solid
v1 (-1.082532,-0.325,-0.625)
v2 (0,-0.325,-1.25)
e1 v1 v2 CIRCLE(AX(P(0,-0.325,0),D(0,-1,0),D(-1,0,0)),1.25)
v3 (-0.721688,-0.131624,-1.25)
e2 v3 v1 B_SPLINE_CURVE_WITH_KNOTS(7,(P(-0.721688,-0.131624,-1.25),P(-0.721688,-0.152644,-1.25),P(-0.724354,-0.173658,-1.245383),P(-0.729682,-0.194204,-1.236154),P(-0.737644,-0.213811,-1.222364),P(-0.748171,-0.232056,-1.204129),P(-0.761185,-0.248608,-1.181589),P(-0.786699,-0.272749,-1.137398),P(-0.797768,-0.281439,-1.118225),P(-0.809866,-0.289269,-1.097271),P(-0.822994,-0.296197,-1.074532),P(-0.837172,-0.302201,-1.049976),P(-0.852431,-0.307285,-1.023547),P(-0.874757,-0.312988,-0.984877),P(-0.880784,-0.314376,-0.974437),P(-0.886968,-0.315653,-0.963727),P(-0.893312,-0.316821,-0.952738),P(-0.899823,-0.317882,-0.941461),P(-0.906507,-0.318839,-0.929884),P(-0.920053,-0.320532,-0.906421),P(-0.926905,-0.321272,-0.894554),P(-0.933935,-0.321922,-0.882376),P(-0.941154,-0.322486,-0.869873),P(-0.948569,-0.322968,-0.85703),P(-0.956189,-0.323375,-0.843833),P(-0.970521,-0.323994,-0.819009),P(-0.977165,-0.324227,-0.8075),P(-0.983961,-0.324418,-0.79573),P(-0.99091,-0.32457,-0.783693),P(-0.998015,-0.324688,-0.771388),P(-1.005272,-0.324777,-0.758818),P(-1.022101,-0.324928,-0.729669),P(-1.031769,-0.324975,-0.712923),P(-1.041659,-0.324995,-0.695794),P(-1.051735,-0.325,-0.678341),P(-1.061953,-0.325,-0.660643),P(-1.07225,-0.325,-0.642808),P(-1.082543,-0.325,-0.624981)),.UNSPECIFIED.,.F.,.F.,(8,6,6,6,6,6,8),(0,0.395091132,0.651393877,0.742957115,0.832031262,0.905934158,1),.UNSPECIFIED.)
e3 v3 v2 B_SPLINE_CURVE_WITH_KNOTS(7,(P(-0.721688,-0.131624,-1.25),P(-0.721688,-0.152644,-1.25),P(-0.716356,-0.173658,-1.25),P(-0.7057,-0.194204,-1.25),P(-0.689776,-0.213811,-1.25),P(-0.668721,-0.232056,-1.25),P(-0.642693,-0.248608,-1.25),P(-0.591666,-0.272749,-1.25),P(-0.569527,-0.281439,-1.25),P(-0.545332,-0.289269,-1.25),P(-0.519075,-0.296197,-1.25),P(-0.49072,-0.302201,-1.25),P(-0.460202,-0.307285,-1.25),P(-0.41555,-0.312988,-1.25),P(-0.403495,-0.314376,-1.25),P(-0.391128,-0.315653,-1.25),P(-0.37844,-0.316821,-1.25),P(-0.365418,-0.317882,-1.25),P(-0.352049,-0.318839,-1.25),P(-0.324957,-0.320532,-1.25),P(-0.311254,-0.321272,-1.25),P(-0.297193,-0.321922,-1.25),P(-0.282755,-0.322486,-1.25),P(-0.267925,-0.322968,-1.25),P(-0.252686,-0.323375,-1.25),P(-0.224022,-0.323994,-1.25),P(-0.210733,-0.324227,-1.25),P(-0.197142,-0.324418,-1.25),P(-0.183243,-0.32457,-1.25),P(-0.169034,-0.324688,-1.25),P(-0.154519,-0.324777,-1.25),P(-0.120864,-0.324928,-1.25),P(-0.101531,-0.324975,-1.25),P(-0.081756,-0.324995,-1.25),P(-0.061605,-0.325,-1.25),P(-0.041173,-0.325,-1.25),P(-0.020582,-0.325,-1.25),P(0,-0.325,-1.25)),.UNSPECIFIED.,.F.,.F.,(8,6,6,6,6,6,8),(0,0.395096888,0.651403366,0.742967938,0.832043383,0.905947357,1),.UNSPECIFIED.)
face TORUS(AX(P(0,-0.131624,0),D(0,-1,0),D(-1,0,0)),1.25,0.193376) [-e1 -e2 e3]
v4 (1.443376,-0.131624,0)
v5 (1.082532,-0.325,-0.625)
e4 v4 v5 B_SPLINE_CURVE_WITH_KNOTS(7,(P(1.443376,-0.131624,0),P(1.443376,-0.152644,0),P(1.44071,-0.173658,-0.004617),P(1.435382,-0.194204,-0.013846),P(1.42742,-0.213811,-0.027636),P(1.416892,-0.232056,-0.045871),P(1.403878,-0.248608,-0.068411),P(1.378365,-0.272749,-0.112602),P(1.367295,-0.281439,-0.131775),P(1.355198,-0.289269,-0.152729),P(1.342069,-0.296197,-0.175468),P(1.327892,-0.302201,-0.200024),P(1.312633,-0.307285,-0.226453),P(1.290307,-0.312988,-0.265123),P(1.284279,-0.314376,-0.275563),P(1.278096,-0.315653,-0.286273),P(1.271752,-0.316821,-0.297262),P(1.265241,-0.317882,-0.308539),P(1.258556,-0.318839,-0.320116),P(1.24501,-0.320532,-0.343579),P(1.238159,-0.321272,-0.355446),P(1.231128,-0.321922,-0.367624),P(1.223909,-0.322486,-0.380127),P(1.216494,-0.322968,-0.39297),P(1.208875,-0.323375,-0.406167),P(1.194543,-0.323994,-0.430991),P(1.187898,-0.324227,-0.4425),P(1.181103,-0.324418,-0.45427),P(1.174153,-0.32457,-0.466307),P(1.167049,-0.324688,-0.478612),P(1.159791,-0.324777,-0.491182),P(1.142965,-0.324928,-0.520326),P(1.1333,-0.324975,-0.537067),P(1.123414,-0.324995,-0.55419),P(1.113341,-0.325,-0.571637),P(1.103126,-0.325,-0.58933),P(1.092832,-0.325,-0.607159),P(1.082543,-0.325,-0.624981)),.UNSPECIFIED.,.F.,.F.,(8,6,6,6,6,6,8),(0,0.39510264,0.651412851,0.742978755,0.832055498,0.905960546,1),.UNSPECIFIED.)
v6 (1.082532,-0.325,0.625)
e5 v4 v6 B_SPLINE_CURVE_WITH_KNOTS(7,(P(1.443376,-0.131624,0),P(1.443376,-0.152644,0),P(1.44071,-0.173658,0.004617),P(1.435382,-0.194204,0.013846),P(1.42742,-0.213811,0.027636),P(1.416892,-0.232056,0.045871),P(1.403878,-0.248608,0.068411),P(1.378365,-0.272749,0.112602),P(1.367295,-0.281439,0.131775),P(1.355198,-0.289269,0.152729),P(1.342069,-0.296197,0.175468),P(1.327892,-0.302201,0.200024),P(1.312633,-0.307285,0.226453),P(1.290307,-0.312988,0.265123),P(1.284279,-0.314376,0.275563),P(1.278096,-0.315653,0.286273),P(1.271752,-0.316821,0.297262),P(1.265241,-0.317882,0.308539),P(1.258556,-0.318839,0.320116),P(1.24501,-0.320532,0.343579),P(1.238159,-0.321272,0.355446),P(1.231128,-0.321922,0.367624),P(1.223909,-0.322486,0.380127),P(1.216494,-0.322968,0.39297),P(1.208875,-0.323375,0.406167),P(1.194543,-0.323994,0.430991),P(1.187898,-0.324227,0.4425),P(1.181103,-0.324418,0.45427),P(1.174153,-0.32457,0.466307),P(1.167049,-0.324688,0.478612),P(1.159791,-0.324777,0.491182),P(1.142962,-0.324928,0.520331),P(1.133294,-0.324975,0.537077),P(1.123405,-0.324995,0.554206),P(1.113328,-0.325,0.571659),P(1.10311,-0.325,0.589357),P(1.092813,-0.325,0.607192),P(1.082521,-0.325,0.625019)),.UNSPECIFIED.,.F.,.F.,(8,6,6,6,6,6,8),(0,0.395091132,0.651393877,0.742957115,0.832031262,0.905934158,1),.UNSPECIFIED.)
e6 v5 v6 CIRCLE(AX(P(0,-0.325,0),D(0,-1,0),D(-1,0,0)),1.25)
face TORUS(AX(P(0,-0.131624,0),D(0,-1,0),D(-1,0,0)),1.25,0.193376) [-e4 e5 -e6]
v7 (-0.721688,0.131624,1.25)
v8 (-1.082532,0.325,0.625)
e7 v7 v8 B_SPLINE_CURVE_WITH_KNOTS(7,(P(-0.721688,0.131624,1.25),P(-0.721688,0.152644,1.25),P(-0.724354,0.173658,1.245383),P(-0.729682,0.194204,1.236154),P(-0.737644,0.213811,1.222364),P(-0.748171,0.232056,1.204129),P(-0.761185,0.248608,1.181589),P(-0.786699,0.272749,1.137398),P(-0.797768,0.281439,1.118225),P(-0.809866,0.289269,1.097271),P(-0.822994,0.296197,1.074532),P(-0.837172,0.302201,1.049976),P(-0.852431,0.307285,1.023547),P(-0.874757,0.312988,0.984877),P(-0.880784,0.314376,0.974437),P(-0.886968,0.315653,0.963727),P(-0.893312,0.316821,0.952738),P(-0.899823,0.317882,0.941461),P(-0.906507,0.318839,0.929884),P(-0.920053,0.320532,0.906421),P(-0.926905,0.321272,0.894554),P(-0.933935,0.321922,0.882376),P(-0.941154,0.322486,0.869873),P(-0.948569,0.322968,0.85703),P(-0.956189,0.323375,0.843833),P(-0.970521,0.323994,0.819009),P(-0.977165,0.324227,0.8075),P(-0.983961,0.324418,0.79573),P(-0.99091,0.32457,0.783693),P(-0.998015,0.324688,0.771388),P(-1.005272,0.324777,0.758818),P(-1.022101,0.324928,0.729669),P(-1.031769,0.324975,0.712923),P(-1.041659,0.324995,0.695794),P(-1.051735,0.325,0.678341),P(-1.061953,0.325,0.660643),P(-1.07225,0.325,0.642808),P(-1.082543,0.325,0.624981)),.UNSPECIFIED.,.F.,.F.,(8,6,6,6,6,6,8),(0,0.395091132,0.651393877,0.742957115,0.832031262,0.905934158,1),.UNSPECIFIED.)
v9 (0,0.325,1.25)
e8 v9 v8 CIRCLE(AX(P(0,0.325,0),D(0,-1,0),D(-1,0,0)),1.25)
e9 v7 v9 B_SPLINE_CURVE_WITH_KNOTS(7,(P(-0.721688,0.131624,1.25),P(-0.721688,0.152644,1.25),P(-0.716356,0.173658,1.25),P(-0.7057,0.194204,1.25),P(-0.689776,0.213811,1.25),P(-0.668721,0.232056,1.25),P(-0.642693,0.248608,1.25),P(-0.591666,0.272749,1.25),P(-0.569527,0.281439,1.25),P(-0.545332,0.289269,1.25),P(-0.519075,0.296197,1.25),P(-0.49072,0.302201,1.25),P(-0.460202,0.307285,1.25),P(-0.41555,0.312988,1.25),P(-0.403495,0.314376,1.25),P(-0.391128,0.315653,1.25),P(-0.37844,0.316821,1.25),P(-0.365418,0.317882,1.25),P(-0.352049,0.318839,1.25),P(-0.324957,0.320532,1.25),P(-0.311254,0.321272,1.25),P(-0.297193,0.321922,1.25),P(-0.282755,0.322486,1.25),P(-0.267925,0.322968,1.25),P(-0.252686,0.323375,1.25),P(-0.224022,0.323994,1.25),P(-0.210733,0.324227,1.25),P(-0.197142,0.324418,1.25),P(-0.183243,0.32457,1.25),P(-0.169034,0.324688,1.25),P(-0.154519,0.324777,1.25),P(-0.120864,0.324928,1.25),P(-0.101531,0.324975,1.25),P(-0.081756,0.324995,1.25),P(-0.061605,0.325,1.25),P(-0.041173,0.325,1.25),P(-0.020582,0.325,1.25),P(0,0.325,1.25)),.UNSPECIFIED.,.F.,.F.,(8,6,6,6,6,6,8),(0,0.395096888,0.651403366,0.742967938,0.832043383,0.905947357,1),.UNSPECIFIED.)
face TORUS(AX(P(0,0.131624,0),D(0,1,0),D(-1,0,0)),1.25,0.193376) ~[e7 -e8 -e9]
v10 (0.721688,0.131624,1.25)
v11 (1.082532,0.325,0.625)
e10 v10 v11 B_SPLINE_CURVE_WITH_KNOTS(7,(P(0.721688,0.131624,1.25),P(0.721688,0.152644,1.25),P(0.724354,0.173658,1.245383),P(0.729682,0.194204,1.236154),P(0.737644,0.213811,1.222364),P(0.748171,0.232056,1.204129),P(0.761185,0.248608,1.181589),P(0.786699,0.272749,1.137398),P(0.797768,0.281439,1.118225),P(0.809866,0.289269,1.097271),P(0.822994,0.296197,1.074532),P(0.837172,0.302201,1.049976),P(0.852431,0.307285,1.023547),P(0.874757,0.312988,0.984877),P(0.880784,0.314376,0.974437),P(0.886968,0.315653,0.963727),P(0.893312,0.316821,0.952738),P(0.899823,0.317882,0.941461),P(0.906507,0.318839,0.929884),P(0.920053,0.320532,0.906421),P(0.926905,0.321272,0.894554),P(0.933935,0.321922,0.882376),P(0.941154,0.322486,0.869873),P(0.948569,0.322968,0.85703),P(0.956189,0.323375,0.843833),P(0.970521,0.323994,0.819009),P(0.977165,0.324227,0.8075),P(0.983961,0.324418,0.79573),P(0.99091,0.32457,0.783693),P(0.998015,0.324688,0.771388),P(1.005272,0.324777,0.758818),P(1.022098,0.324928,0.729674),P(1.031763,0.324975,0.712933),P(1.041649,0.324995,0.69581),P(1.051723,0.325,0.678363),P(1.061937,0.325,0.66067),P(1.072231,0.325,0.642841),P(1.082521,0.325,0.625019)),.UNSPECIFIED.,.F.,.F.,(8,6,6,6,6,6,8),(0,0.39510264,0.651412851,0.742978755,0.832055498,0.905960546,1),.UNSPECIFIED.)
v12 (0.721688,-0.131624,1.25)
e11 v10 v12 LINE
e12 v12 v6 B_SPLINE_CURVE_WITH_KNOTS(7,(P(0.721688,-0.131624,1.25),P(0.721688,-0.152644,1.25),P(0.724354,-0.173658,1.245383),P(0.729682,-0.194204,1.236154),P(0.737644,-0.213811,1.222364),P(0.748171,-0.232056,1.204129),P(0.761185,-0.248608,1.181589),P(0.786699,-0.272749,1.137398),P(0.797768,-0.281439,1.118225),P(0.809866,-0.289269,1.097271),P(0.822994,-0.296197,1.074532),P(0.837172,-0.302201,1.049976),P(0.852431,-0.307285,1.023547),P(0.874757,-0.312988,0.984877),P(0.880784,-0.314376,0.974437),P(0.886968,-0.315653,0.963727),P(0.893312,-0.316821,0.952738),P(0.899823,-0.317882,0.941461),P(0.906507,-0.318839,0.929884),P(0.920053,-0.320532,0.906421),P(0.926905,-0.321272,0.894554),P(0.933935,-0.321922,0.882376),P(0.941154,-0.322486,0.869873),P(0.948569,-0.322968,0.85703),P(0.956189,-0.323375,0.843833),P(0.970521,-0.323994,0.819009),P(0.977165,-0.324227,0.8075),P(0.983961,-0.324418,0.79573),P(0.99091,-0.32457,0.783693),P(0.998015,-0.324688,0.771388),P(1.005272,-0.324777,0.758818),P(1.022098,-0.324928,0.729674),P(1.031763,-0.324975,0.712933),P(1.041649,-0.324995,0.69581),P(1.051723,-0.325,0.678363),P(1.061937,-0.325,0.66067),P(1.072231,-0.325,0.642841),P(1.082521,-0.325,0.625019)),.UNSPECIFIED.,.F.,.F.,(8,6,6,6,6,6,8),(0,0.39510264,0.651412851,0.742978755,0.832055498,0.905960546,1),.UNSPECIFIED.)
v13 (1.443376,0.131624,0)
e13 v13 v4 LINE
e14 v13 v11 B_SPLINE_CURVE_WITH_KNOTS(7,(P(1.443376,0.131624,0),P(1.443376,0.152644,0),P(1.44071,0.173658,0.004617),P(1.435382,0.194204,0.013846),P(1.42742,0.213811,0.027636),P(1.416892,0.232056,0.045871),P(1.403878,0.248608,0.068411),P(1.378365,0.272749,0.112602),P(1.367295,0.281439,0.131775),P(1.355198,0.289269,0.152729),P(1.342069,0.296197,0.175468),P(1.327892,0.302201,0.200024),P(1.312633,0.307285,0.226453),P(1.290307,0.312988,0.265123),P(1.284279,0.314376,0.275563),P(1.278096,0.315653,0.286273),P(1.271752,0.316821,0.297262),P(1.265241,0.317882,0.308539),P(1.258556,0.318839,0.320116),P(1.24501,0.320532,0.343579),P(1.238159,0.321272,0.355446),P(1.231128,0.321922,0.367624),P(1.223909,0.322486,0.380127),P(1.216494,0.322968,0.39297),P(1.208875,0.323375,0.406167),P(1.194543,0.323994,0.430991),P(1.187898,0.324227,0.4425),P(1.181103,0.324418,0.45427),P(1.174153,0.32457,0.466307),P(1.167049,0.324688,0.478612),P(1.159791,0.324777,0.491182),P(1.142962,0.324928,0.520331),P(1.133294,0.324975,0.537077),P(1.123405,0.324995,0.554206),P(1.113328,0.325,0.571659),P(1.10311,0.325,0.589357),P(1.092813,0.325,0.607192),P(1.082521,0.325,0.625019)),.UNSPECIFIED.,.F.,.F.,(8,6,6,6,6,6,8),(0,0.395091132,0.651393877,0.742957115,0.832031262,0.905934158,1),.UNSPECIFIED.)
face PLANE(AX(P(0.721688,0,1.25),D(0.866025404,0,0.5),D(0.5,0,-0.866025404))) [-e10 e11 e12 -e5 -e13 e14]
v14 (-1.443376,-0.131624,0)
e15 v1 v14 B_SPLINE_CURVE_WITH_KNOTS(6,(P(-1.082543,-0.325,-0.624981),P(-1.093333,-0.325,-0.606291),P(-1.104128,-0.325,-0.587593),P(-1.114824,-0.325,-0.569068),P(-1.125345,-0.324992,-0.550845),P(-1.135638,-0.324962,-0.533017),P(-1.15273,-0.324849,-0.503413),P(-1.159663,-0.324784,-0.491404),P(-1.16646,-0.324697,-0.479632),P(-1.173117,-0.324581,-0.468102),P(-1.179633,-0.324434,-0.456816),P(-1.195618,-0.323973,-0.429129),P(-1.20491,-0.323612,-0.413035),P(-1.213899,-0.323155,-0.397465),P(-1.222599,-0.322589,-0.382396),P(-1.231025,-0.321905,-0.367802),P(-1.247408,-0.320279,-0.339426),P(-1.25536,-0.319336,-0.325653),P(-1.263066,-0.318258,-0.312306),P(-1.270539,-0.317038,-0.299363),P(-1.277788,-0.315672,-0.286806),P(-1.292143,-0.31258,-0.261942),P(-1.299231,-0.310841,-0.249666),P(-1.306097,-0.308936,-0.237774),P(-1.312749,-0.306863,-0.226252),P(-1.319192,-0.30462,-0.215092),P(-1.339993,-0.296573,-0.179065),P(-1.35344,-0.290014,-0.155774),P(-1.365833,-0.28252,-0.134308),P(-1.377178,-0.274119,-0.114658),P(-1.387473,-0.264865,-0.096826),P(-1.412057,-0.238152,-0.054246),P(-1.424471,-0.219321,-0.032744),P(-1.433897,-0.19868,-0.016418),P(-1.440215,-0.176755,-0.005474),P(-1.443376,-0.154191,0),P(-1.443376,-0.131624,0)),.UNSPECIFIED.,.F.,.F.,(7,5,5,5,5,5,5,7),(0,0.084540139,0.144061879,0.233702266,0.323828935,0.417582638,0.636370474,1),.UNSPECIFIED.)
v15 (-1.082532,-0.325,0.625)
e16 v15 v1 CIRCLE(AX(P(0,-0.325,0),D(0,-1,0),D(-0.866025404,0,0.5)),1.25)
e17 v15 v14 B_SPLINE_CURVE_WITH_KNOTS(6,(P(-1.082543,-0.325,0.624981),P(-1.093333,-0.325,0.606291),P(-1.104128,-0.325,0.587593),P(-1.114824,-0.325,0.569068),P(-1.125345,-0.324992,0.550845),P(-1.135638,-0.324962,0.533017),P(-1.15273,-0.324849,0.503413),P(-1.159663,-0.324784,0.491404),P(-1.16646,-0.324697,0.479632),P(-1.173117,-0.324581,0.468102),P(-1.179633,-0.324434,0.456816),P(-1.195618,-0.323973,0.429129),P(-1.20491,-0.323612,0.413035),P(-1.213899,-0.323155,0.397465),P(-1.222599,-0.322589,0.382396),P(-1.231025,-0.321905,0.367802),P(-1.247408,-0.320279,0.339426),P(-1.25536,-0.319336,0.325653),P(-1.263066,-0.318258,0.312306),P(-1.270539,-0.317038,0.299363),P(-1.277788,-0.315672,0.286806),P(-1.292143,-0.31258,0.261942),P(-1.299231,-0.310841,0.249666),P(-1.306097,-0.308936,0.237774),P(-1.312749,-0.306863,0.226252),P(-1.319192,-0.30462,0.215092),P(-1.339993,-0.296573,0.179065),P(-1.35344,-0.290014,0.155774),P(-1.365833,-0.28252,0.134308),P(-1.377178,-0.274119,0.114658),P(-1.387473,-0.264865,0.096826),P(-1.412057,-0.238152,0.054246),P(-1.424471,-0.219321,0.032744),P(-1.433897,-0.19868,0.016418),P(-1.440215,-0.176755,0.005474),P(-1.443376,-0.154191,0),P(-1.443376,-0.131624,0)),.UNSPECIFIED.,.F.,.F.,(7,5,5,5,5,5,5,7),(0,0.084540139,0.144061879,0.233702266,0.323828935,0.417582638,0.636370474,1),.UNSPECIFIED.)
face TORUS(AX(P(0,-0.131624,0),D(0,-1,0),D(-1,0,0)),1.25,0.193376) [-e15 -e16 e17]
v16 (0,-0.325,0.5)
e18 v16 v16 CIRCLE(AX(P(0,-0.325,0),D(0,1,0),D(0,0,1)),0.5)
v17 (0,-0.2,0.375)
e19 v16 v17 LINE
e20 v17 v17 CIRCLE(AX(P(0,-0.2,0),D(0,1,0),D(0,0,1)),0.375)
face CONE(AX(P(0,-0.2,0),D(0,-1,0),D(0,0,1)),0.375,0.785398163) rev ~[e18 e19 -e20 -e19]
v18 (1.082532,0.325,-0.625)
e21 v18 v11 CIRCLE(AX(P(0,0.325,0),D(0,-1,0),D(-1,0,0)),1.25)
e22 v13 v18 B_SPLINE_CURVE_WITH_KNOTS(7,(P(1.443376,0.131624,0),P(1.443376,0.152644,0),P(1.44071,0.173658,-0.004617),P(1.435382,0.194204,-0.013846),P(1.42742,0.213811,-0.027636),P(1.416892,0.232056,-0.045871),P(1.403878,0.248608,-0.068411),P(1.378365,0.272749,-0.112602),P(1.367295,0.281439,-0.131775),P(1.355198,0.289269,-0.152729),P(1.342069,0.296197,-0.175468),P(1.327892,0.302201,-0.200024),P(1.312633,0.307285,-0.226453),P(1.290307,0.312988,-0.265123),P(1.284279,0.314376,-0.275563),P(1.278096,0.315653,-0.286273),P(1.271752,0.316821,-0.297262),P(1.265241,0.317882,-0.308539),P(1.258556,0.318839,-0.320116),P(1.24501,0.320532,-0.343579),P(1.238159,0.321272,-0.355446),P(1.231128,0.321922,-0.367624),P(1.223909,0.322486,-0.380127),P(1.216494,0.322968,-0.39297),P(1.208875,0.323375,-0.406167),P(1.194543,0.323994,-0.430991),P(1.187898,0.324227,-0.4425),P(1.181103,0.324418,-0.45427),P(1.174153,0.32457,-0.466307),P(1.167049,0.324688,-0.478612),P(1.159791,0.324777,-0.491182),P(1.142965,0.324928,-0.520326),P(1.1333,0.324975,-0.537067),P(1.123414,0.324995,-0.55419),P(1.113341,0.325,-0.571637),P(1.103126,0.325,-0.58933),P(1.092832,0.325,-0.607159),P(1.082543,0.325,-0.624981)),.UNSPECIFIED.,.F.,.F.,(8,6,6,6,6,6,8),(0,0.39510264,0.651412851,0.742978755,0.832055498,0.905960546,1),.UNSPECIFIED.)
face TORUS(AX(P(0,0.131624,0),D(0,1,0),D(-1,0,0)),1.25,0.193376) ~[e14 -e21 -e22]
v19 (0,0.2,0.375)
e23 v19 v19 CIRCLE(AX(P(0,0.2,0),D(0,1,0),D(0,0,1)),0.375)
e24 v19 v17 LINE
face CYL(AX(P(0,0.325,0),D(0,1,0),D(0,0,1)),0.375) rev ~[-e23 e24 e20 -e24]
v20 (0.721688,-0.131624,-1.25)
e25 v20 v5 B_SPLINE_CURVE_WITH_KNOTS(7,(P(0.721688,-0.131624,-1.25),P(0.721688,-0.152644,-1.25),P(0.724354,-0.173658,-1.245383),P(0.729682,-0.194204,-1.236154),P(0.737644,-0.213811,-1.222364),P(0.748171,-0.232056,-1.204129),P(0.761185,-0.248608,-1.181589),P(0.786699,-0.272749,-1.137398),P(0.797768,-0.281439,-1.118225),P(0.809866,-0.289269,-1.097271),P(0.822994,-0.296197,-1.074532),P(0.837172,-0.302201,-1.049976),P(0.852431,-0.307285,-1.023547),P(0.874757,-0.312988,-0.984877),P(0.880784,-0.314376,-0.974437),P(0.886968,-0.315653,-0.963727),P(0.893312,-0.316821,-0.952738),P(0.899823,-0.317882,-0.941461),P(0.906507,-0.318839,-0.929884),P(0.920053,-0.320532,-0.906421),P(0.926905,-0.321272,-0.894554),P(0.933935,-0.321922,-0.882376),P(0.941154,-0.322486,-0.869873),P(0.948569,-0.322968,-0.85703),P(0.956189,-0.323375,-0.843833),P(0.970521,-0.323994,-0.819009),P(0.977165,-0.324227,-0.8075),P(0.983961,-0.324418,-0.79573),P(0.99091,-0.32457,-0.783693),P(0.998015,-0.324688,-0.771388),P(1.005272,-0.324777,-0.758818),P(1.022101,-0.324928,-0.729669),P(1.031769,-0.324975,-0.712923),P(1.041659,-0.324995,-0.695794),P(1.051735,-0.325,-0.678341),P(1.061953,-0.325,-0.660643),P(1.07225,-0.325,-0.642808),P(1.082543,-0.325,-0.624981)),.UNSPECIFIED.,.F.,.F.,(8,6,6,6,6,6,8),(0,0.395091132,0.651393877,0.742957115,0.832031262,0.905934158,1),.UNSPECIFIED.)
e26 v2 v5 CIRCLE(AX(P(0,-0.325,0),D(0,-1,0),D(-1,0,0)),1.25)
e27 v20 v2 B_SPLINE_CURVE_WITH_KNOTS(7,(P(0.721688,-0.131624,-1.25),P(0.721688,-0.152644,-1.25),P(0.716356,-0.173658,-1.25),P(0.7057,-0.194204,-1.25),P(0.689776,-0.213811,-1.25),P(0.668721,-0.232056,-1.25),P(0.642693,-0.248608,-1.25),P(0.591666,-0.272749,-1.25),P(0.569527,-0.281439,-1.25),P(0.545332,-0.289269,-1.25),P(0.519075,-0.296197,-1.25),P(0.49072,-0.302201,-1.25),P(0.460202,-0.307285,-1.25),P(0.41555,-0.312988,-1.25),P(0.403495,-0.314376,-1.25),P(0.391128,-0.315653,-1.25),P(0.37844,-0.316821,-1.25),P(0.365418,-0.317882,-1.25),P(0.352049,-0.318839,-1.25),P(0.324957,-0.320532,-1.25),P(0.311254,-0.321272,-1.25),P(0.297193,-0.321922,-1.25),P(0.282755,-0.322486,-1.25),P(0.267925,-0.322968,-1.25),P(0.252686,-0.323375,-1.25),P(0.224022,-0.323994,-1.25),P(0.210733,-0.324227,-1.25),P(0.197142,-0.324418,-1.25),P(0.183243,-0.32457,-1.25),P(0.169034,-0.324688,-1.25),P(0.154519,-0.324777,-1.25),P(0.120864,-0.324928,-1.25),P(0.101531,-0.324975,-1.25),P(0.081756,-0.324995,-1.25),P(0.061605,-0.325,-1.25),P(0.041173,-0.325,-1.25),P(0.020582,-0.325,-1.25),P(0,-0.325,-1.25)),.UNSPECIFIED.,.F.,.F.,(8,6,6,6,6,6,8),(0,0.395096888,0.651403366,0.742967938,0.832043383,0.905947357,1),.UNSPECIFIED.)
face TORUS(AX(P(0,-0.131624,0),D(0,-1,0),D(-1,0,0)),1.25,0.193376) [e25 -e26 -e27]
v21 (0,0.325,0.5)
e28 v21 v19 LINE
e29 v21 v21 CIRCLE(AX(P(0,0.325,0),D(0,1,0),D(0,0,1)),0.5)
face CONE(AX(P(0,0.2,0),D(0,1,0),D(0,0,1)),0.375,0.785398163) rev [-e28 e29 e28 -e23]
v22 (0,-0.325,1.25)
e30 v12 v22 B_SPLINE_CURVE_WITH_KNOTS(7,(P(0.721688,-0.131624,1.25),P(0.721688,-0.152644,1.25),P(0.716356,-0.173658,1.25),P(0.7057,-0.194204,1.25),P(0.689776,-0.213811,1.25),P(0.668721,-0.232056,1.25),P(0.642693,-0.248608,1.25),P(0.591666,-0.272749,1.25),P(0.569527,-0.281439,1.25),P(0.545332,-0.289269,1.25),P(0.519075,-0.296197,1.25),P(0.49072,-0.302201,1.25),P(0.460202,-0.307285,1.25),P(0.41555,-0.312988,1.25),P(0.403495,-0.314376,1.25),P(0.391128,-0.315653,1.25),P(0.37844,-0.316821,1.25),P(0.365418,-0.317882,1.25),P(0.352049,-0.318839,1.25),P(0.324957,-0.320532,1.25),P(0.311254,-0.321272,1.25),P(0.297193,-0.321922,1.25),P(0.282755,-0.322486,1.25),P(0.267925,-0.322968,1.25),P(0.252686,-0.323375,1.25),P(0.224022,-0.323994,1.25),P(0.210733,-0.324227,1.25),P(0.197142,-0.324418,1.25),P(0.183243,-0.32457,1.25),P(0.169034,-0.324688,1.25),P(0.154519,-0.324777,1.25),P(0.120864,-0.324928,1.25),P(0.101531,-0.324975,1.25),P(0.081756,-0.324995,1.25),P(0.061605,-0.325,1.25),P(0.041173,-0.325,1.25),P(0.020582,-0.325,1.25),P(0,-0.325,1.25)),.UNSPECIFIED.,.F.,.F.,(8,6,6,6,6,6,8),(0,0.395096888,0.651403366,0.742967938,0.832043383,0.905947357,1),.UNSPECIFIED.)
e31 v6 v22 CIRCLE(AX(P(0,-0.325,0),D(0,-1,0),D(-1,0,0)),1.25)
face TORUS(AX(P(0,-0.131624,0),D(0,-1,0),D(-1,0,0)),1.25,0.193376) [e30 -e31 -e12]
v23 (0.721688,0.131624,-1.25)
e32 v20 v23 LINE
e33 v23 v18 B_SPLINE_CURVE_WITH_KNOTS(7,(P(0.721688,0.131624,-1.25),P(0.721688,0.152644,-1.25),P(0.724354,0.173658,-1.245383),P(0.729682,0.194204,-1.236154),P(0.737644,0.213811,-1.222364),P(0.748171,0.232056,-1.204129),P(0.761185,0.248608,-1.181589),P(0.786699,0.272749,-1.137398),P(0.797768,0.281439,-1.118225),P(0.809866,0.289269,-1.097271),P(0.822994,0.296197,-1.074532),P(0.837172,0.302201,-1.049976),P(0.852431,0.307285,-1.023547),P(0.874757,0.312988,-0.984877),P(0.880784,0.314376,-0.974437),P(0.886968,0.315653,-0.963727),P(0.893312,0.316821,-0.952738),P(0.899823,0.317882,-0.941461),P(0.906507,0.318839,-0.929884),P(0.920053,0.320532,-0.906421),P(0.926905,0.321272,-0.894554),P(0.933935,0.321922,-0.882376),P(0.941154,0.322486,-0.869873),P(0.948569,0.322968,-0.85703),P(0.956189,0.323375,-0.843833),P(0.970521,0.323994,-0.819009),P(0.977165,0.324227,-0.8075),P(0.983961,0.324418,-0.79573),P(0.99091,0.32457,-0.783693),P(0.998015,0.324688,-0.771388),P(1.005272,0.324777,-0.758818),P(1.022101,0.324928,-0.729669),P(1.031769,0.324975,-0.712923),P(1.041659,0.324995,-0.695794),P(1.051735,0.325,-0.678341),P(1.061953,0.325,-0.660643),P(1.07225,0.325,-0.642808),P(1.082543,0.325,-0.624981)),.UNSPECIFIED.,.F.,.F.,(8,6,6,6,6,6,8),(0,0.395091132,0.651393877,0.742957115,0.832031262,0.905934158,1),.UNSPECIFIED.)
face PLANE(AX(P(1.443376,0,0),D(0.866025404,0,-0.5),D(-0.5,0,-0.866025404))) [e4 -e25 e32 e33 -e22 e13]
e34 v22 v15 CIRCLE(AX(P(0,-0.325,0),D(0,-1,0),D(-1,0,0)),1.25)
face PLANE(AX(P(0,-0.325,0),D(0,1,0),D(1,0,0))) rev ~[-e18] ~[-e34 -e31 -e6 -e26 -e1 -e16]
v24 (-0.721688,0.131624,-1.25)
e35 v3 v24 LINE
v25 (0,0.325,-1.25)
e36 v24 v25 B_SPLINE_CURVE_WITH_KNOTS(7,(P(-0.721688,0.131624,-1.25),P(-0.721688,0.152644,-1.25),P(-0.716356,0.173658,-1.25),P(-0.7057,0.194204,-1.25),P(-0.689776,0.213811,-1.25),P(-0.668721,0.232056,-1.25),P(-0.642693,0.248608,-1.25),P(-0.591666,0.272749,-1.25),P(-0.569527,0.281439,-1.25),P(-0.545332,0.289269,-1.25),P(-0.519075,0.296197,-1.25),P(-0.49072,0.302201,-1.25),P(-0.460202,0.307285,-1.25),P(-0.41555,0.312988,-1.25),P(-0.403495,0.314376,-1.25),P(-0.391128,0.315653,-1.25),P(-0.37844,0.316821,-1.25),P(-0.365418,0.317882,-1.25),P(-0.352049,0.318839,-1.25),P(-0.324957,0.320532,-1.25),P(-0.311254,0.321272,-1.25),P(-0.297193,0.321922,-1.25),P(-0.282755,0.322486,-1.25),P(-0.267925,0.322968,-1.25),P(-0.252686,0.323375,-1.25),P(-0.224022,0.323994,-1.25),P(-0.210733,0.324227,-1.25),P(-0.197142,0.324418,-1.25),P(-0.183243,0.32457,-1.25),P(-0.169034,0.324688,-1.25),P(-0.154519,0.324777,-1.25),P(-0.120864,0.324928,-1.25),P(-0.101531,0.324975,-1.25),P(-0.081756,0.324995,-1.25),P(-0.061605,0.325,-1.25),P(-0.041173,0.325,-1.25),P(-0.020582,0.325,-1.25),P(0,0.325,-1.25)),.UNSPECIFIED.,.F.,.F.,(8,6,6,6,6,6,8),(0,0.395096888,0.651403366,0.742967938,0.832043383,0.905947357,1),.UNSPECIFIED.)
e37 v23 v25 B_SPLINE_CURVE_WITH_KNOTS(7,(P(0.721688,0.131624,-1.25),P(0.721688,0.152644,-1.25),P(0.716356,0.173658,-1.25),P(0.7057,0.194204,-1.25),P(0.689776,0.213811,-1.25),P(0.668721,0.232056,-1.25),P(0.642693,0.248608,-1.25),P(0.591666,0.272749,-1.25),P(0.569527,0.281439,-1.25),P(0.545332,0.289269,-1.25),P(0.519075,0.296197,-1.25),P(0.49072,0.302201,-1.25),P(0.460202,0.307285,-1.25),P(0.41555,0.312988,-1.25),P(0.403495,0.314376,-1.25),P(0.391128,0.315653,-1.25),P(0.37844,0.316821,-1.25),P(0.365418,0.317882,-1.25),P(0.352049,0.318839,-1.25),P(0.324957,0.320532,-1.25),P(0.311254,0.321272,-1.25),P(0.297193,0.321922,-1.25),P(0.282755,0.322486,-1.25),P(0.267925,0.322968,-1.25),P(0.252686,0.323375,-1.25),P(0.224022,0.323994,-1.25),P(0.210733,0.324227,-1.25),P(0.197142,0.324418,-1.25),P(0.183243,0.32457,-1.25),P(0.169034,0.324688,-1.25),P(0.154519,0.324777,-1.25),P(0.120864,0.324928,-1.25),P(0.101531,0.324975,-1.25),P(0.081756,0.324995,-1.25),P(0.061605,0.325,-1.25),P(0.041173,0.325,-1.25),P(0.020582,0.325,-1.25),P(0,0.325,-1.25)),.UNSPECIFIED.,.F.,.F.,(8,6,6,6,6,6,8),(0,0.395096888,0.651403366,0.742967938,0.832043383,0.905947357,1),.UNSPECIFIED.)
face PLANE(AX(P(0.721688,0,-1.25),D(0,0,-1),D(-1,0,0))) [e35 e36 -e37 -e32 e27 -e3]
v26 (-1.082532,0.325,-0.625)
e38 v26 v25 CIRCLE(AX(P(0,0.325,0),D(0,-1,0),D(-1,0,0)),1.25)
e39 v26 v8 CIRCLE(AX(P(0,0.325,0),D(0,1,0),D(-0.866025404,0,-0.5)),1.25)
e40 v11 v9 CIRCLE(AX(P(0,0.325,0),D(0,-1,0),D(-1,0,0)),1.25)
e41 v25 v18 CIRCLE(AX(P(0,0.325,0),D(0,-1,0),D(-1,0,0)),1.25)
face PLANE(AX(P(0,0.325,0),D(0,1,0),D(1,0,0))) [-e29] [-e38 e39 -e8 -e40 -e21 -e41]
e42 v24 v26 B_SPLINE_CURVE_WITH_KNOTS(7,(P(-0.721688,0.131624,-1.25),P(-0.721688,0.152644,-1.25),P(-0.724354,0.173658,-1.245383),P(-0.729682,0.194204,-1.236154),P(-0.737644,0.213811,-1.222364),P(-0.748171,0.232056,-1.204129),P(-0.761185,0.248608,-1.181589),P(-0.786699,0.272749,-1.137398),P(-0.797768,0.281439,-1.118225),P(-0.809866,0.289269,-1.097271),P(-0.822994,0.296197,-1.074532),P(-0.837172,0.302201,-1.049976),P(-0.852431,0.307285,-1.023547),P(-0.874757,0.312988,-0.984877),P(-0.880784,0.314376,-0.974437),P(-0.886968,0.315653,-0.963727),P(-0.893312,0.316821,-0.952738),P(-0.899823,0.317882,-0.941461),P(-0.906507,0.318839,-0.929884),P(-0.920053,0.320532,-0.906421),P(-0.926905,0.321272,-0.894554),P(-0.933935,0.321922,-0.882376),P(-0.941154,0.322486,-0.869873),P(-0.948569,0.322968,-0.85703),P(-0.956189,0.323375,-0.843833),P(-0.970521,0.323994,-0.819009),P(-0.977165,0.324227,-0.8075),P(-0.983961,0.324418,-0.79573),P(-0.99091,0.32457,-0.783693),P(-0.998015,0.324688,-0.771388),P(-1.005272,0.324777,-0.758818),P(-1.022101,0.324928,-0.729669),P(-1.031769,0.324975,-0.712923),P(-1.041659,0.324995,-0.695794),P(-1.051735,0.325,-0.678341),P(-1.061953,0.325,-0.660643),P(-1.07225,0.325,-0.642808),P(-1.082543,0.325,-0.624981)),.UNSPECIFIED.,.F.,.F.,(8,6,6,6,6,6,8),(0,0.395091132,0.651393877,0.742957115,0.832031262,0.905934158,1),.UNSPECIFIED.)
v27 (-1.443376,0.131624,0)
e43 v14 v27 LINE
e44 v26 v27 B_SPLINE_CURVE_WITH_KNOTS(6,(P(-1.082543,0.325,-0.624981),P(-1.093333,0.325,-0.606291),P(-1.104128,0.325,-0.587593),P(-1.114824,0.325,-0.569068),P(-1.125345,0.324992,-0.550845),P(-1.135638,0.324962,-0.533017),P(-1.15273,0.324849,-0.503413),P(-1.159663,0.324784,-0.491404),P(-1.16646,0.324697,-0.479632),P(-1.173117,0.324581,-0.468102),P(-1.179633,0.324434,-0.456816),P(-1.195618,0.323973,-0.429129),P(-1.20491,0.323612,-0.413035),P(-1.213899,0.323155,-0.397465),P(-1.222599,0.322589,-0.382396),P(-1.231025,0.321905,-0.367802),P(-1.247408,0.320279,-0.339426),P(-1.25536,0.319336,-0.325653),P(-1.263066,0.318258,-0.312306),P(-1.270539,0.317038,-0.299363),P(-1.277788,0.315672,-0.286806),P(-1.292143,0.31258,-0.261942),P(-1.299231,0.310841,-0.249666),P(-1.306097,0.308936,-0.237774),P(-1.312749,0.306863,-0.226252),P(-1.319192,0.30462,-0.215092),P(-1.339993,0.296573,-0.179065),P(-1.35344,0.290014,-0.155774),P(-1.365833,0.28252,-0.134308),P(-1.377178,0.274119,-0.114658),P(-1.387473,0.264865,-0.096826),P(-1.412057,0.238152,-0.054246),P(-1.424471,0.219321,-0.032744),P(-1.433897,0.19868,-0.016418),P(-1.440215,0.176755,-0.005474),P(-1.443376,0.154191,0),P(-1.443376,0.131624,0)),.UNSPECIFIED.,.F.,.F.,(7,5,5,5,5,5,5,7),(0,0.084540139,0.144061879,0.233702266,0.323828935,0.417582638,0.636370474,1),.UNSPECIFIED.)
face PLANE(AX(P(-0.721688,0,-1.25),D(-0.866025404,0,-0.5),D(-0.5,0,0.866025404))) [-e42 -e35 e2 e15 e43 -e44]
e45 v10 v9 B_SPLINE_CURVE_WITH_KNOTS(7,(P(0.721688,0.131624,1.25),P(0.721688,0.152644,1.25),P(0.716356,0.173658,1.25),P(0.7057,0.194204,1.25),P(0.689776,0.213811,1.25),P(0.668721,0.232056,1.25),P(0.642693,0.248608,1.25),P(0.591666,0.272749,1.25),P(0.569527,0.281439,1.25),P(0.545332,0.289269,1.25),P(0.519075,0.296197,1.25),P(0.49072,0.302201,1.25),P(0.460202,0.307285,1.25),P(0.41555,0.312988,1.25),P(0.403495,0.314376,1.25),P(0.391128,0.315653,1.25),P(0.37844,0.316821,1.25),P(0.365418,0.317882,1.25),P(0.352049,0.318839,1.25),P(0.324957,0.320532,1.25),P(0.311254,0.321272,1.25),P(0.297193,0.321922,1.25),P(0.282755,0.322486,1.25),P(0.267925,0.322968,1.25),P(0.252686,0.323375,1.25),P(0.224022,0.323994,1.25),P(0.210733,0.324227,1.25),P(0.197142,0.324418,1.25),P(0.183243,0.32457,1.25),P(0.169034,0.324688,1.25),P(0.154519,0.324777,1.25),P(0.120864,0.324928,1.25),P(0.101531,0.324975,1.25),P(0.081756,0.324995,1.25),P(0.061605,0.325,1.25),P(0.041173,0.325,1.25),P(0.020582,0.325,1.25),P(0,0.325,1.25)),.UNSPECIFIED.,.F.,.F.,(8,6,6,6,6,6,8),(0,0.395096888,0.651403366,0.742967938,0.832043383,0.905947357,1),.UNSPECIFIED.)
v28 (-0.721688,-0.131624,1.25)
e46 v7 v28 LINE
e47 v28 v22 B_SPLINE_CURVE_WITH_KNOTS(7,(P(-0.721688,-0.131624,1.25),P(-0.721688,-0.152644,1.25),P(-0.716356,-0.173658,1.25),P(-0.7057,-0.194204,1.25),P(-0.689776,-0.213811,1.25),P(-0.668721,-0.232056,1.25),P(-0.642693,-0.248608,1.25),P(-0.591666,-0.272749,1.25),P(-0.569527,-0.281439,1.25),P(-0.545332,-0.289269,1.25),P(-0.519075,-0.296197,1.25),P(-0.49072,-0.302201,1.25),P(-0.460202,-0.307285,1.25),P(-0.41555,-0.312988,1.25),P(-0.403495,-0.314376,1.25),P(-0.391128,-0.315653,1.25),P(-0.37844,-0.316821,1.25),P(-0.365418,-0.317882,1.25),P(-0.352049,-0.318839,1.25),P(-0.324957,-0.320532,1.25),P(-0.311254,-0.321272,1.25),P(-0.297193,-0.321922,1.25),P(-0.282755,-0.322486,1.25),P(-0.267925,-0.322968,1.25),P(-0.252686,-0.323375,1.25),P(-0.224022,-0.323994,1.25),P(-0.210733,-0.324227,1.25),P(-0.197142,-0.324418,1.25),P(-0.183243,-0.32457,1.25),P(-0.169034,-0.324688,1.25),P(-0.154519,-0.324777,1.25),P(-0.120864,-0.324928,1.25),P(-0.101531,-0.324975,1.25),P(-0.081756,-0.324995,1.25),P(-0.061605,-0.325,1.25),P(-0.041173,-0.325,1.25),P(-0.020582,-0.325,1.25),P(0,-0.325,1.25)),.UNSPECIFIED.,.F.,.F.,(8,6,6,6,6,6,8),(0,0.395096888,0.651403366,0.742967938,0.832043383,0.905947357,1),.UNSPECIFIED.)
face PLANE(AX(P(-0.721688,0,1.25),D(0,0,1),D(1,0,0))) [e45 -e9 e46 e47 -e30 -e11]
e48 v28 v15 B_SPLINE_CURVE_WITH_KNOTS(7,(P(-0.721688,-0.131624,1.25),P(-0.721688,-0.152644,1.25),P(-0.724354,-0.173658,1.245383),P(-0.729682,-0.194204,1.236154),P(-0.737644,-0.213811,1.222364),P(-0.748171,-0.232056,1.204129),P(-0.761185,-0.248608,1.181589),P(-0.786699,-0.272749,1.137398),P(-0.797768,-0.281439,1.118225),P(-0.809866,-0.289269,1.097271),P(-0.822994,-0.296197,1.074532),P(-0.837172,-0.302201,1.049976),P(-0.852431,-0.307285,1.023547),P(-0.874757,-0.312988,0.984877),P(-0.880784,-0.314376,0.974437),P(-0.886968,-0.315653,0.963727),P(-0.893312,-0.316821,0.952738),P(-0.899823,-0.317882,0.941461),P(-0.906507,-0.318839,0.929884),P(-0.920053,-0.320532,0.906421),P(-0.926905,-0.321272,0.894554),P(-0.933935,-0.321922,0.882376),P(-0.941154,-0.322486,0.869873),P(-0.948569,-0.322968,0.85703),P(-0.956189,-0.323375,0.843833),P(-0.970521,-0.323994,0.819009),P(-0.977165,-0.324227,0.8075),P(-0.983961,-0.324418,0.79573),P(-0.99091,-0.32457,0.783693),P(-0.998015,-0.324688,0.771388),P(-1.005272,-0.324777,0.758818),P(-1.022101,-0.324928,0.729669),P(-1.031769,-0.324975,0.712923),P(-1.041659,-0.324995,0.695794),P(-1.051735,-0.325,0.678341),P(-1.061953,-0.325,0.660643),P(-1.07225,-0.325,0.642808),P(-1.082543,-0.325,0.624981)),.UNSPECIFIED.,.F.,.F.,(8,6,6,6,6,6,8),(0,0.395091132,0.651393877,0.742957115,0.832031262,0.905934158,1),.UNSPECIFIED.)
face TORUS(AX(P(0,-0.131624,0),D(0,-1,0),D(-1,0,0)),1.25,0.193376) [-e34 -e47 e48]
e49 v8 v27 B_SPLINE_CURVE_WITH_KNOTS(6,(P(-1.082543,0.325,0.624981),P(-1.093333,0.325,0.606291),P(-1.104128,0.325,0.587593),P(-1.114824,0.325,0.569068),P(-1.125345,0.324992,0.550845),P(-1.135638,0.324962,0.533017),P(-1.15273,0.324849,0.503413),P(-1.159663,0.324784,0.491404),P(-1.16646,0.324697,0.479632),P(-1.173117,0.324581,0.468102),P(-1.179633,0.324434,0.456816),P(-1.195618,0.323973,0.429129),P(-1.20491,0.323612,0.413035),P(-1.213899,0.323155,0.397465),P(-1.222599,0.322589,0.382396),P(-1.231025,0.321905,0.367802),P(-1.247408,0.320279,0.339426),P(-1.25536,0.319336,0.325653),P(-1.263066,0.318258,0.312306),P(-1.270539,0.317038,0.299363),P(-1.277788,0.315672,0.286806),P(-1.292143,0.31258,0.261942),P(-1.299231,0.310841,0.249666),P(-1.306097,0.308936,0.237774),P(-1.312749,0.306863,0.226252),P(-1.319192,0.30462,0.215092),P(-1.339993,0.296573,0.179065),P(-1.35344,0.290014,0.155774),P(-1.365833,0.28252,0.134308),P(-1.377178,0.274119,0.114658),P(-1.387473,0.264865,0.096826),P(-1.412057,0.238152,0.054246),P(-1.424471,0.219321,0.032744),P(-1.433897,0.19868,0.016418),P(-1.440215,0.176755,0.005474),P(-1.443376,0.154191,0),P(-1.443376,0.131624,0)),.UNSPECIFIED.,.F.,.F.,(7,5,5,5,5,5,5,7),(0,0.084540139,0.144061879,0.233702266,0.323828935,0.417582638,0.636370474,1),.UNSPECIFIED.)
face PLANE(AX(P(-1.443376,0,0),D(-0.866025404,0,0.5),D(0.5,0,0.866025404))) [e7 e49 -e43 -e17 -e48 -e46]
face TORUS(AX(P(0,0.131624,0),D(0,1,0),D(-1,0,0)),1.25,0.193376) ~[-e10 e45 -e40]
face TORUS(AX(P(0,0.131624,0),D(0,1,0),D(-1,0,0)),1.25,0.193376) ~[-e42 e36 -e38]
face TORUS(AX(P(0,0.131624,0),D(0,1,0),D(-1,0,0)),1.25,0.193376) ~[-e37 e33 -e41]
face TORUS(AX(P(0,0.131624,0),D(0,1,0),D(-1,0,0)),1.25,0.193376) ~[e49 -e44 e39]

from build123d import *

# Parameters (mm, degrees)
BOSS_EXTRUDE1_DEPTH = 0.325
SKETCH6_R           = 0.375
CUT_EXTRUDE1_DEPTH  = 3.017011156
CHAMFER1_SIZE       = 0.125


with BuildPart() as part:
    # Sketch1 → Boss-Extrude1 (new, symmetric)
    with BuildSketch(Plane(origin=(0, 0, 0), x_dir=(1, 0, 0), z_dir=(0, 1, 0))):
        Polygon((1.443375673, 0), (0.721687836, 1.25), (-0.721687836, 1.25), (-1.443375673, 0), (-0.721687836, -1.25), (0.721687836, -1.25), align=None)
    extrude(amount=BOSS_EXTRUDE1_DEPTH, both=True)

    # Sketch3 → Cut-Revolve1 (revolve, cut)
    with BuildSketch(Plane.XY):
        with BuildLine():
            Line((-1.443375673, 0.325), (-1.443375673, 0.131624327))
            ThreePointArc((-1.443375673, 0.131624327), (-1.38673725, 0.268361577), (-1.25, 0.325))
            Line((-1.25, 0.325), (-1.443375673, 0.325))
        make_face()
    cut_revolve1 = revolve(axis=Axis((0, 0, 0), (0, -1, 0)), mode=Mode.SUBTRACT)

    # Mirror1: Cut-Revolve1 across plane
    add(cut_revolve1.mirror(Plane.ZX), mode=Mode.SUBTRACT)

    # Sketch6 → Cut-Extrude1 (cut, through all)
    with BuildSketch(Plane(origin=(0, 0.325, 0), x_dir=(1, 0, 0), z_dir=(0, 1, 0))):
        with Locations(Location((0, 0, 0), (0, 0, 270))):
            Circle(SKETCH6_R)
    extrude(amount=-CUT_EXTRUDE1_DEPTH, mode=Mode.SUBTRACT)

    # Chamfer1
    chamfer1_edges = [part.edges().sort_by_distance(p)[0] for p in [
        (0, -0.325, -0.375),
        (0, 0.325, -0.375),
    ]]
    chamfer(chamfer1_edges, length=CHAMFER1_SIZE)


solid = part.part
